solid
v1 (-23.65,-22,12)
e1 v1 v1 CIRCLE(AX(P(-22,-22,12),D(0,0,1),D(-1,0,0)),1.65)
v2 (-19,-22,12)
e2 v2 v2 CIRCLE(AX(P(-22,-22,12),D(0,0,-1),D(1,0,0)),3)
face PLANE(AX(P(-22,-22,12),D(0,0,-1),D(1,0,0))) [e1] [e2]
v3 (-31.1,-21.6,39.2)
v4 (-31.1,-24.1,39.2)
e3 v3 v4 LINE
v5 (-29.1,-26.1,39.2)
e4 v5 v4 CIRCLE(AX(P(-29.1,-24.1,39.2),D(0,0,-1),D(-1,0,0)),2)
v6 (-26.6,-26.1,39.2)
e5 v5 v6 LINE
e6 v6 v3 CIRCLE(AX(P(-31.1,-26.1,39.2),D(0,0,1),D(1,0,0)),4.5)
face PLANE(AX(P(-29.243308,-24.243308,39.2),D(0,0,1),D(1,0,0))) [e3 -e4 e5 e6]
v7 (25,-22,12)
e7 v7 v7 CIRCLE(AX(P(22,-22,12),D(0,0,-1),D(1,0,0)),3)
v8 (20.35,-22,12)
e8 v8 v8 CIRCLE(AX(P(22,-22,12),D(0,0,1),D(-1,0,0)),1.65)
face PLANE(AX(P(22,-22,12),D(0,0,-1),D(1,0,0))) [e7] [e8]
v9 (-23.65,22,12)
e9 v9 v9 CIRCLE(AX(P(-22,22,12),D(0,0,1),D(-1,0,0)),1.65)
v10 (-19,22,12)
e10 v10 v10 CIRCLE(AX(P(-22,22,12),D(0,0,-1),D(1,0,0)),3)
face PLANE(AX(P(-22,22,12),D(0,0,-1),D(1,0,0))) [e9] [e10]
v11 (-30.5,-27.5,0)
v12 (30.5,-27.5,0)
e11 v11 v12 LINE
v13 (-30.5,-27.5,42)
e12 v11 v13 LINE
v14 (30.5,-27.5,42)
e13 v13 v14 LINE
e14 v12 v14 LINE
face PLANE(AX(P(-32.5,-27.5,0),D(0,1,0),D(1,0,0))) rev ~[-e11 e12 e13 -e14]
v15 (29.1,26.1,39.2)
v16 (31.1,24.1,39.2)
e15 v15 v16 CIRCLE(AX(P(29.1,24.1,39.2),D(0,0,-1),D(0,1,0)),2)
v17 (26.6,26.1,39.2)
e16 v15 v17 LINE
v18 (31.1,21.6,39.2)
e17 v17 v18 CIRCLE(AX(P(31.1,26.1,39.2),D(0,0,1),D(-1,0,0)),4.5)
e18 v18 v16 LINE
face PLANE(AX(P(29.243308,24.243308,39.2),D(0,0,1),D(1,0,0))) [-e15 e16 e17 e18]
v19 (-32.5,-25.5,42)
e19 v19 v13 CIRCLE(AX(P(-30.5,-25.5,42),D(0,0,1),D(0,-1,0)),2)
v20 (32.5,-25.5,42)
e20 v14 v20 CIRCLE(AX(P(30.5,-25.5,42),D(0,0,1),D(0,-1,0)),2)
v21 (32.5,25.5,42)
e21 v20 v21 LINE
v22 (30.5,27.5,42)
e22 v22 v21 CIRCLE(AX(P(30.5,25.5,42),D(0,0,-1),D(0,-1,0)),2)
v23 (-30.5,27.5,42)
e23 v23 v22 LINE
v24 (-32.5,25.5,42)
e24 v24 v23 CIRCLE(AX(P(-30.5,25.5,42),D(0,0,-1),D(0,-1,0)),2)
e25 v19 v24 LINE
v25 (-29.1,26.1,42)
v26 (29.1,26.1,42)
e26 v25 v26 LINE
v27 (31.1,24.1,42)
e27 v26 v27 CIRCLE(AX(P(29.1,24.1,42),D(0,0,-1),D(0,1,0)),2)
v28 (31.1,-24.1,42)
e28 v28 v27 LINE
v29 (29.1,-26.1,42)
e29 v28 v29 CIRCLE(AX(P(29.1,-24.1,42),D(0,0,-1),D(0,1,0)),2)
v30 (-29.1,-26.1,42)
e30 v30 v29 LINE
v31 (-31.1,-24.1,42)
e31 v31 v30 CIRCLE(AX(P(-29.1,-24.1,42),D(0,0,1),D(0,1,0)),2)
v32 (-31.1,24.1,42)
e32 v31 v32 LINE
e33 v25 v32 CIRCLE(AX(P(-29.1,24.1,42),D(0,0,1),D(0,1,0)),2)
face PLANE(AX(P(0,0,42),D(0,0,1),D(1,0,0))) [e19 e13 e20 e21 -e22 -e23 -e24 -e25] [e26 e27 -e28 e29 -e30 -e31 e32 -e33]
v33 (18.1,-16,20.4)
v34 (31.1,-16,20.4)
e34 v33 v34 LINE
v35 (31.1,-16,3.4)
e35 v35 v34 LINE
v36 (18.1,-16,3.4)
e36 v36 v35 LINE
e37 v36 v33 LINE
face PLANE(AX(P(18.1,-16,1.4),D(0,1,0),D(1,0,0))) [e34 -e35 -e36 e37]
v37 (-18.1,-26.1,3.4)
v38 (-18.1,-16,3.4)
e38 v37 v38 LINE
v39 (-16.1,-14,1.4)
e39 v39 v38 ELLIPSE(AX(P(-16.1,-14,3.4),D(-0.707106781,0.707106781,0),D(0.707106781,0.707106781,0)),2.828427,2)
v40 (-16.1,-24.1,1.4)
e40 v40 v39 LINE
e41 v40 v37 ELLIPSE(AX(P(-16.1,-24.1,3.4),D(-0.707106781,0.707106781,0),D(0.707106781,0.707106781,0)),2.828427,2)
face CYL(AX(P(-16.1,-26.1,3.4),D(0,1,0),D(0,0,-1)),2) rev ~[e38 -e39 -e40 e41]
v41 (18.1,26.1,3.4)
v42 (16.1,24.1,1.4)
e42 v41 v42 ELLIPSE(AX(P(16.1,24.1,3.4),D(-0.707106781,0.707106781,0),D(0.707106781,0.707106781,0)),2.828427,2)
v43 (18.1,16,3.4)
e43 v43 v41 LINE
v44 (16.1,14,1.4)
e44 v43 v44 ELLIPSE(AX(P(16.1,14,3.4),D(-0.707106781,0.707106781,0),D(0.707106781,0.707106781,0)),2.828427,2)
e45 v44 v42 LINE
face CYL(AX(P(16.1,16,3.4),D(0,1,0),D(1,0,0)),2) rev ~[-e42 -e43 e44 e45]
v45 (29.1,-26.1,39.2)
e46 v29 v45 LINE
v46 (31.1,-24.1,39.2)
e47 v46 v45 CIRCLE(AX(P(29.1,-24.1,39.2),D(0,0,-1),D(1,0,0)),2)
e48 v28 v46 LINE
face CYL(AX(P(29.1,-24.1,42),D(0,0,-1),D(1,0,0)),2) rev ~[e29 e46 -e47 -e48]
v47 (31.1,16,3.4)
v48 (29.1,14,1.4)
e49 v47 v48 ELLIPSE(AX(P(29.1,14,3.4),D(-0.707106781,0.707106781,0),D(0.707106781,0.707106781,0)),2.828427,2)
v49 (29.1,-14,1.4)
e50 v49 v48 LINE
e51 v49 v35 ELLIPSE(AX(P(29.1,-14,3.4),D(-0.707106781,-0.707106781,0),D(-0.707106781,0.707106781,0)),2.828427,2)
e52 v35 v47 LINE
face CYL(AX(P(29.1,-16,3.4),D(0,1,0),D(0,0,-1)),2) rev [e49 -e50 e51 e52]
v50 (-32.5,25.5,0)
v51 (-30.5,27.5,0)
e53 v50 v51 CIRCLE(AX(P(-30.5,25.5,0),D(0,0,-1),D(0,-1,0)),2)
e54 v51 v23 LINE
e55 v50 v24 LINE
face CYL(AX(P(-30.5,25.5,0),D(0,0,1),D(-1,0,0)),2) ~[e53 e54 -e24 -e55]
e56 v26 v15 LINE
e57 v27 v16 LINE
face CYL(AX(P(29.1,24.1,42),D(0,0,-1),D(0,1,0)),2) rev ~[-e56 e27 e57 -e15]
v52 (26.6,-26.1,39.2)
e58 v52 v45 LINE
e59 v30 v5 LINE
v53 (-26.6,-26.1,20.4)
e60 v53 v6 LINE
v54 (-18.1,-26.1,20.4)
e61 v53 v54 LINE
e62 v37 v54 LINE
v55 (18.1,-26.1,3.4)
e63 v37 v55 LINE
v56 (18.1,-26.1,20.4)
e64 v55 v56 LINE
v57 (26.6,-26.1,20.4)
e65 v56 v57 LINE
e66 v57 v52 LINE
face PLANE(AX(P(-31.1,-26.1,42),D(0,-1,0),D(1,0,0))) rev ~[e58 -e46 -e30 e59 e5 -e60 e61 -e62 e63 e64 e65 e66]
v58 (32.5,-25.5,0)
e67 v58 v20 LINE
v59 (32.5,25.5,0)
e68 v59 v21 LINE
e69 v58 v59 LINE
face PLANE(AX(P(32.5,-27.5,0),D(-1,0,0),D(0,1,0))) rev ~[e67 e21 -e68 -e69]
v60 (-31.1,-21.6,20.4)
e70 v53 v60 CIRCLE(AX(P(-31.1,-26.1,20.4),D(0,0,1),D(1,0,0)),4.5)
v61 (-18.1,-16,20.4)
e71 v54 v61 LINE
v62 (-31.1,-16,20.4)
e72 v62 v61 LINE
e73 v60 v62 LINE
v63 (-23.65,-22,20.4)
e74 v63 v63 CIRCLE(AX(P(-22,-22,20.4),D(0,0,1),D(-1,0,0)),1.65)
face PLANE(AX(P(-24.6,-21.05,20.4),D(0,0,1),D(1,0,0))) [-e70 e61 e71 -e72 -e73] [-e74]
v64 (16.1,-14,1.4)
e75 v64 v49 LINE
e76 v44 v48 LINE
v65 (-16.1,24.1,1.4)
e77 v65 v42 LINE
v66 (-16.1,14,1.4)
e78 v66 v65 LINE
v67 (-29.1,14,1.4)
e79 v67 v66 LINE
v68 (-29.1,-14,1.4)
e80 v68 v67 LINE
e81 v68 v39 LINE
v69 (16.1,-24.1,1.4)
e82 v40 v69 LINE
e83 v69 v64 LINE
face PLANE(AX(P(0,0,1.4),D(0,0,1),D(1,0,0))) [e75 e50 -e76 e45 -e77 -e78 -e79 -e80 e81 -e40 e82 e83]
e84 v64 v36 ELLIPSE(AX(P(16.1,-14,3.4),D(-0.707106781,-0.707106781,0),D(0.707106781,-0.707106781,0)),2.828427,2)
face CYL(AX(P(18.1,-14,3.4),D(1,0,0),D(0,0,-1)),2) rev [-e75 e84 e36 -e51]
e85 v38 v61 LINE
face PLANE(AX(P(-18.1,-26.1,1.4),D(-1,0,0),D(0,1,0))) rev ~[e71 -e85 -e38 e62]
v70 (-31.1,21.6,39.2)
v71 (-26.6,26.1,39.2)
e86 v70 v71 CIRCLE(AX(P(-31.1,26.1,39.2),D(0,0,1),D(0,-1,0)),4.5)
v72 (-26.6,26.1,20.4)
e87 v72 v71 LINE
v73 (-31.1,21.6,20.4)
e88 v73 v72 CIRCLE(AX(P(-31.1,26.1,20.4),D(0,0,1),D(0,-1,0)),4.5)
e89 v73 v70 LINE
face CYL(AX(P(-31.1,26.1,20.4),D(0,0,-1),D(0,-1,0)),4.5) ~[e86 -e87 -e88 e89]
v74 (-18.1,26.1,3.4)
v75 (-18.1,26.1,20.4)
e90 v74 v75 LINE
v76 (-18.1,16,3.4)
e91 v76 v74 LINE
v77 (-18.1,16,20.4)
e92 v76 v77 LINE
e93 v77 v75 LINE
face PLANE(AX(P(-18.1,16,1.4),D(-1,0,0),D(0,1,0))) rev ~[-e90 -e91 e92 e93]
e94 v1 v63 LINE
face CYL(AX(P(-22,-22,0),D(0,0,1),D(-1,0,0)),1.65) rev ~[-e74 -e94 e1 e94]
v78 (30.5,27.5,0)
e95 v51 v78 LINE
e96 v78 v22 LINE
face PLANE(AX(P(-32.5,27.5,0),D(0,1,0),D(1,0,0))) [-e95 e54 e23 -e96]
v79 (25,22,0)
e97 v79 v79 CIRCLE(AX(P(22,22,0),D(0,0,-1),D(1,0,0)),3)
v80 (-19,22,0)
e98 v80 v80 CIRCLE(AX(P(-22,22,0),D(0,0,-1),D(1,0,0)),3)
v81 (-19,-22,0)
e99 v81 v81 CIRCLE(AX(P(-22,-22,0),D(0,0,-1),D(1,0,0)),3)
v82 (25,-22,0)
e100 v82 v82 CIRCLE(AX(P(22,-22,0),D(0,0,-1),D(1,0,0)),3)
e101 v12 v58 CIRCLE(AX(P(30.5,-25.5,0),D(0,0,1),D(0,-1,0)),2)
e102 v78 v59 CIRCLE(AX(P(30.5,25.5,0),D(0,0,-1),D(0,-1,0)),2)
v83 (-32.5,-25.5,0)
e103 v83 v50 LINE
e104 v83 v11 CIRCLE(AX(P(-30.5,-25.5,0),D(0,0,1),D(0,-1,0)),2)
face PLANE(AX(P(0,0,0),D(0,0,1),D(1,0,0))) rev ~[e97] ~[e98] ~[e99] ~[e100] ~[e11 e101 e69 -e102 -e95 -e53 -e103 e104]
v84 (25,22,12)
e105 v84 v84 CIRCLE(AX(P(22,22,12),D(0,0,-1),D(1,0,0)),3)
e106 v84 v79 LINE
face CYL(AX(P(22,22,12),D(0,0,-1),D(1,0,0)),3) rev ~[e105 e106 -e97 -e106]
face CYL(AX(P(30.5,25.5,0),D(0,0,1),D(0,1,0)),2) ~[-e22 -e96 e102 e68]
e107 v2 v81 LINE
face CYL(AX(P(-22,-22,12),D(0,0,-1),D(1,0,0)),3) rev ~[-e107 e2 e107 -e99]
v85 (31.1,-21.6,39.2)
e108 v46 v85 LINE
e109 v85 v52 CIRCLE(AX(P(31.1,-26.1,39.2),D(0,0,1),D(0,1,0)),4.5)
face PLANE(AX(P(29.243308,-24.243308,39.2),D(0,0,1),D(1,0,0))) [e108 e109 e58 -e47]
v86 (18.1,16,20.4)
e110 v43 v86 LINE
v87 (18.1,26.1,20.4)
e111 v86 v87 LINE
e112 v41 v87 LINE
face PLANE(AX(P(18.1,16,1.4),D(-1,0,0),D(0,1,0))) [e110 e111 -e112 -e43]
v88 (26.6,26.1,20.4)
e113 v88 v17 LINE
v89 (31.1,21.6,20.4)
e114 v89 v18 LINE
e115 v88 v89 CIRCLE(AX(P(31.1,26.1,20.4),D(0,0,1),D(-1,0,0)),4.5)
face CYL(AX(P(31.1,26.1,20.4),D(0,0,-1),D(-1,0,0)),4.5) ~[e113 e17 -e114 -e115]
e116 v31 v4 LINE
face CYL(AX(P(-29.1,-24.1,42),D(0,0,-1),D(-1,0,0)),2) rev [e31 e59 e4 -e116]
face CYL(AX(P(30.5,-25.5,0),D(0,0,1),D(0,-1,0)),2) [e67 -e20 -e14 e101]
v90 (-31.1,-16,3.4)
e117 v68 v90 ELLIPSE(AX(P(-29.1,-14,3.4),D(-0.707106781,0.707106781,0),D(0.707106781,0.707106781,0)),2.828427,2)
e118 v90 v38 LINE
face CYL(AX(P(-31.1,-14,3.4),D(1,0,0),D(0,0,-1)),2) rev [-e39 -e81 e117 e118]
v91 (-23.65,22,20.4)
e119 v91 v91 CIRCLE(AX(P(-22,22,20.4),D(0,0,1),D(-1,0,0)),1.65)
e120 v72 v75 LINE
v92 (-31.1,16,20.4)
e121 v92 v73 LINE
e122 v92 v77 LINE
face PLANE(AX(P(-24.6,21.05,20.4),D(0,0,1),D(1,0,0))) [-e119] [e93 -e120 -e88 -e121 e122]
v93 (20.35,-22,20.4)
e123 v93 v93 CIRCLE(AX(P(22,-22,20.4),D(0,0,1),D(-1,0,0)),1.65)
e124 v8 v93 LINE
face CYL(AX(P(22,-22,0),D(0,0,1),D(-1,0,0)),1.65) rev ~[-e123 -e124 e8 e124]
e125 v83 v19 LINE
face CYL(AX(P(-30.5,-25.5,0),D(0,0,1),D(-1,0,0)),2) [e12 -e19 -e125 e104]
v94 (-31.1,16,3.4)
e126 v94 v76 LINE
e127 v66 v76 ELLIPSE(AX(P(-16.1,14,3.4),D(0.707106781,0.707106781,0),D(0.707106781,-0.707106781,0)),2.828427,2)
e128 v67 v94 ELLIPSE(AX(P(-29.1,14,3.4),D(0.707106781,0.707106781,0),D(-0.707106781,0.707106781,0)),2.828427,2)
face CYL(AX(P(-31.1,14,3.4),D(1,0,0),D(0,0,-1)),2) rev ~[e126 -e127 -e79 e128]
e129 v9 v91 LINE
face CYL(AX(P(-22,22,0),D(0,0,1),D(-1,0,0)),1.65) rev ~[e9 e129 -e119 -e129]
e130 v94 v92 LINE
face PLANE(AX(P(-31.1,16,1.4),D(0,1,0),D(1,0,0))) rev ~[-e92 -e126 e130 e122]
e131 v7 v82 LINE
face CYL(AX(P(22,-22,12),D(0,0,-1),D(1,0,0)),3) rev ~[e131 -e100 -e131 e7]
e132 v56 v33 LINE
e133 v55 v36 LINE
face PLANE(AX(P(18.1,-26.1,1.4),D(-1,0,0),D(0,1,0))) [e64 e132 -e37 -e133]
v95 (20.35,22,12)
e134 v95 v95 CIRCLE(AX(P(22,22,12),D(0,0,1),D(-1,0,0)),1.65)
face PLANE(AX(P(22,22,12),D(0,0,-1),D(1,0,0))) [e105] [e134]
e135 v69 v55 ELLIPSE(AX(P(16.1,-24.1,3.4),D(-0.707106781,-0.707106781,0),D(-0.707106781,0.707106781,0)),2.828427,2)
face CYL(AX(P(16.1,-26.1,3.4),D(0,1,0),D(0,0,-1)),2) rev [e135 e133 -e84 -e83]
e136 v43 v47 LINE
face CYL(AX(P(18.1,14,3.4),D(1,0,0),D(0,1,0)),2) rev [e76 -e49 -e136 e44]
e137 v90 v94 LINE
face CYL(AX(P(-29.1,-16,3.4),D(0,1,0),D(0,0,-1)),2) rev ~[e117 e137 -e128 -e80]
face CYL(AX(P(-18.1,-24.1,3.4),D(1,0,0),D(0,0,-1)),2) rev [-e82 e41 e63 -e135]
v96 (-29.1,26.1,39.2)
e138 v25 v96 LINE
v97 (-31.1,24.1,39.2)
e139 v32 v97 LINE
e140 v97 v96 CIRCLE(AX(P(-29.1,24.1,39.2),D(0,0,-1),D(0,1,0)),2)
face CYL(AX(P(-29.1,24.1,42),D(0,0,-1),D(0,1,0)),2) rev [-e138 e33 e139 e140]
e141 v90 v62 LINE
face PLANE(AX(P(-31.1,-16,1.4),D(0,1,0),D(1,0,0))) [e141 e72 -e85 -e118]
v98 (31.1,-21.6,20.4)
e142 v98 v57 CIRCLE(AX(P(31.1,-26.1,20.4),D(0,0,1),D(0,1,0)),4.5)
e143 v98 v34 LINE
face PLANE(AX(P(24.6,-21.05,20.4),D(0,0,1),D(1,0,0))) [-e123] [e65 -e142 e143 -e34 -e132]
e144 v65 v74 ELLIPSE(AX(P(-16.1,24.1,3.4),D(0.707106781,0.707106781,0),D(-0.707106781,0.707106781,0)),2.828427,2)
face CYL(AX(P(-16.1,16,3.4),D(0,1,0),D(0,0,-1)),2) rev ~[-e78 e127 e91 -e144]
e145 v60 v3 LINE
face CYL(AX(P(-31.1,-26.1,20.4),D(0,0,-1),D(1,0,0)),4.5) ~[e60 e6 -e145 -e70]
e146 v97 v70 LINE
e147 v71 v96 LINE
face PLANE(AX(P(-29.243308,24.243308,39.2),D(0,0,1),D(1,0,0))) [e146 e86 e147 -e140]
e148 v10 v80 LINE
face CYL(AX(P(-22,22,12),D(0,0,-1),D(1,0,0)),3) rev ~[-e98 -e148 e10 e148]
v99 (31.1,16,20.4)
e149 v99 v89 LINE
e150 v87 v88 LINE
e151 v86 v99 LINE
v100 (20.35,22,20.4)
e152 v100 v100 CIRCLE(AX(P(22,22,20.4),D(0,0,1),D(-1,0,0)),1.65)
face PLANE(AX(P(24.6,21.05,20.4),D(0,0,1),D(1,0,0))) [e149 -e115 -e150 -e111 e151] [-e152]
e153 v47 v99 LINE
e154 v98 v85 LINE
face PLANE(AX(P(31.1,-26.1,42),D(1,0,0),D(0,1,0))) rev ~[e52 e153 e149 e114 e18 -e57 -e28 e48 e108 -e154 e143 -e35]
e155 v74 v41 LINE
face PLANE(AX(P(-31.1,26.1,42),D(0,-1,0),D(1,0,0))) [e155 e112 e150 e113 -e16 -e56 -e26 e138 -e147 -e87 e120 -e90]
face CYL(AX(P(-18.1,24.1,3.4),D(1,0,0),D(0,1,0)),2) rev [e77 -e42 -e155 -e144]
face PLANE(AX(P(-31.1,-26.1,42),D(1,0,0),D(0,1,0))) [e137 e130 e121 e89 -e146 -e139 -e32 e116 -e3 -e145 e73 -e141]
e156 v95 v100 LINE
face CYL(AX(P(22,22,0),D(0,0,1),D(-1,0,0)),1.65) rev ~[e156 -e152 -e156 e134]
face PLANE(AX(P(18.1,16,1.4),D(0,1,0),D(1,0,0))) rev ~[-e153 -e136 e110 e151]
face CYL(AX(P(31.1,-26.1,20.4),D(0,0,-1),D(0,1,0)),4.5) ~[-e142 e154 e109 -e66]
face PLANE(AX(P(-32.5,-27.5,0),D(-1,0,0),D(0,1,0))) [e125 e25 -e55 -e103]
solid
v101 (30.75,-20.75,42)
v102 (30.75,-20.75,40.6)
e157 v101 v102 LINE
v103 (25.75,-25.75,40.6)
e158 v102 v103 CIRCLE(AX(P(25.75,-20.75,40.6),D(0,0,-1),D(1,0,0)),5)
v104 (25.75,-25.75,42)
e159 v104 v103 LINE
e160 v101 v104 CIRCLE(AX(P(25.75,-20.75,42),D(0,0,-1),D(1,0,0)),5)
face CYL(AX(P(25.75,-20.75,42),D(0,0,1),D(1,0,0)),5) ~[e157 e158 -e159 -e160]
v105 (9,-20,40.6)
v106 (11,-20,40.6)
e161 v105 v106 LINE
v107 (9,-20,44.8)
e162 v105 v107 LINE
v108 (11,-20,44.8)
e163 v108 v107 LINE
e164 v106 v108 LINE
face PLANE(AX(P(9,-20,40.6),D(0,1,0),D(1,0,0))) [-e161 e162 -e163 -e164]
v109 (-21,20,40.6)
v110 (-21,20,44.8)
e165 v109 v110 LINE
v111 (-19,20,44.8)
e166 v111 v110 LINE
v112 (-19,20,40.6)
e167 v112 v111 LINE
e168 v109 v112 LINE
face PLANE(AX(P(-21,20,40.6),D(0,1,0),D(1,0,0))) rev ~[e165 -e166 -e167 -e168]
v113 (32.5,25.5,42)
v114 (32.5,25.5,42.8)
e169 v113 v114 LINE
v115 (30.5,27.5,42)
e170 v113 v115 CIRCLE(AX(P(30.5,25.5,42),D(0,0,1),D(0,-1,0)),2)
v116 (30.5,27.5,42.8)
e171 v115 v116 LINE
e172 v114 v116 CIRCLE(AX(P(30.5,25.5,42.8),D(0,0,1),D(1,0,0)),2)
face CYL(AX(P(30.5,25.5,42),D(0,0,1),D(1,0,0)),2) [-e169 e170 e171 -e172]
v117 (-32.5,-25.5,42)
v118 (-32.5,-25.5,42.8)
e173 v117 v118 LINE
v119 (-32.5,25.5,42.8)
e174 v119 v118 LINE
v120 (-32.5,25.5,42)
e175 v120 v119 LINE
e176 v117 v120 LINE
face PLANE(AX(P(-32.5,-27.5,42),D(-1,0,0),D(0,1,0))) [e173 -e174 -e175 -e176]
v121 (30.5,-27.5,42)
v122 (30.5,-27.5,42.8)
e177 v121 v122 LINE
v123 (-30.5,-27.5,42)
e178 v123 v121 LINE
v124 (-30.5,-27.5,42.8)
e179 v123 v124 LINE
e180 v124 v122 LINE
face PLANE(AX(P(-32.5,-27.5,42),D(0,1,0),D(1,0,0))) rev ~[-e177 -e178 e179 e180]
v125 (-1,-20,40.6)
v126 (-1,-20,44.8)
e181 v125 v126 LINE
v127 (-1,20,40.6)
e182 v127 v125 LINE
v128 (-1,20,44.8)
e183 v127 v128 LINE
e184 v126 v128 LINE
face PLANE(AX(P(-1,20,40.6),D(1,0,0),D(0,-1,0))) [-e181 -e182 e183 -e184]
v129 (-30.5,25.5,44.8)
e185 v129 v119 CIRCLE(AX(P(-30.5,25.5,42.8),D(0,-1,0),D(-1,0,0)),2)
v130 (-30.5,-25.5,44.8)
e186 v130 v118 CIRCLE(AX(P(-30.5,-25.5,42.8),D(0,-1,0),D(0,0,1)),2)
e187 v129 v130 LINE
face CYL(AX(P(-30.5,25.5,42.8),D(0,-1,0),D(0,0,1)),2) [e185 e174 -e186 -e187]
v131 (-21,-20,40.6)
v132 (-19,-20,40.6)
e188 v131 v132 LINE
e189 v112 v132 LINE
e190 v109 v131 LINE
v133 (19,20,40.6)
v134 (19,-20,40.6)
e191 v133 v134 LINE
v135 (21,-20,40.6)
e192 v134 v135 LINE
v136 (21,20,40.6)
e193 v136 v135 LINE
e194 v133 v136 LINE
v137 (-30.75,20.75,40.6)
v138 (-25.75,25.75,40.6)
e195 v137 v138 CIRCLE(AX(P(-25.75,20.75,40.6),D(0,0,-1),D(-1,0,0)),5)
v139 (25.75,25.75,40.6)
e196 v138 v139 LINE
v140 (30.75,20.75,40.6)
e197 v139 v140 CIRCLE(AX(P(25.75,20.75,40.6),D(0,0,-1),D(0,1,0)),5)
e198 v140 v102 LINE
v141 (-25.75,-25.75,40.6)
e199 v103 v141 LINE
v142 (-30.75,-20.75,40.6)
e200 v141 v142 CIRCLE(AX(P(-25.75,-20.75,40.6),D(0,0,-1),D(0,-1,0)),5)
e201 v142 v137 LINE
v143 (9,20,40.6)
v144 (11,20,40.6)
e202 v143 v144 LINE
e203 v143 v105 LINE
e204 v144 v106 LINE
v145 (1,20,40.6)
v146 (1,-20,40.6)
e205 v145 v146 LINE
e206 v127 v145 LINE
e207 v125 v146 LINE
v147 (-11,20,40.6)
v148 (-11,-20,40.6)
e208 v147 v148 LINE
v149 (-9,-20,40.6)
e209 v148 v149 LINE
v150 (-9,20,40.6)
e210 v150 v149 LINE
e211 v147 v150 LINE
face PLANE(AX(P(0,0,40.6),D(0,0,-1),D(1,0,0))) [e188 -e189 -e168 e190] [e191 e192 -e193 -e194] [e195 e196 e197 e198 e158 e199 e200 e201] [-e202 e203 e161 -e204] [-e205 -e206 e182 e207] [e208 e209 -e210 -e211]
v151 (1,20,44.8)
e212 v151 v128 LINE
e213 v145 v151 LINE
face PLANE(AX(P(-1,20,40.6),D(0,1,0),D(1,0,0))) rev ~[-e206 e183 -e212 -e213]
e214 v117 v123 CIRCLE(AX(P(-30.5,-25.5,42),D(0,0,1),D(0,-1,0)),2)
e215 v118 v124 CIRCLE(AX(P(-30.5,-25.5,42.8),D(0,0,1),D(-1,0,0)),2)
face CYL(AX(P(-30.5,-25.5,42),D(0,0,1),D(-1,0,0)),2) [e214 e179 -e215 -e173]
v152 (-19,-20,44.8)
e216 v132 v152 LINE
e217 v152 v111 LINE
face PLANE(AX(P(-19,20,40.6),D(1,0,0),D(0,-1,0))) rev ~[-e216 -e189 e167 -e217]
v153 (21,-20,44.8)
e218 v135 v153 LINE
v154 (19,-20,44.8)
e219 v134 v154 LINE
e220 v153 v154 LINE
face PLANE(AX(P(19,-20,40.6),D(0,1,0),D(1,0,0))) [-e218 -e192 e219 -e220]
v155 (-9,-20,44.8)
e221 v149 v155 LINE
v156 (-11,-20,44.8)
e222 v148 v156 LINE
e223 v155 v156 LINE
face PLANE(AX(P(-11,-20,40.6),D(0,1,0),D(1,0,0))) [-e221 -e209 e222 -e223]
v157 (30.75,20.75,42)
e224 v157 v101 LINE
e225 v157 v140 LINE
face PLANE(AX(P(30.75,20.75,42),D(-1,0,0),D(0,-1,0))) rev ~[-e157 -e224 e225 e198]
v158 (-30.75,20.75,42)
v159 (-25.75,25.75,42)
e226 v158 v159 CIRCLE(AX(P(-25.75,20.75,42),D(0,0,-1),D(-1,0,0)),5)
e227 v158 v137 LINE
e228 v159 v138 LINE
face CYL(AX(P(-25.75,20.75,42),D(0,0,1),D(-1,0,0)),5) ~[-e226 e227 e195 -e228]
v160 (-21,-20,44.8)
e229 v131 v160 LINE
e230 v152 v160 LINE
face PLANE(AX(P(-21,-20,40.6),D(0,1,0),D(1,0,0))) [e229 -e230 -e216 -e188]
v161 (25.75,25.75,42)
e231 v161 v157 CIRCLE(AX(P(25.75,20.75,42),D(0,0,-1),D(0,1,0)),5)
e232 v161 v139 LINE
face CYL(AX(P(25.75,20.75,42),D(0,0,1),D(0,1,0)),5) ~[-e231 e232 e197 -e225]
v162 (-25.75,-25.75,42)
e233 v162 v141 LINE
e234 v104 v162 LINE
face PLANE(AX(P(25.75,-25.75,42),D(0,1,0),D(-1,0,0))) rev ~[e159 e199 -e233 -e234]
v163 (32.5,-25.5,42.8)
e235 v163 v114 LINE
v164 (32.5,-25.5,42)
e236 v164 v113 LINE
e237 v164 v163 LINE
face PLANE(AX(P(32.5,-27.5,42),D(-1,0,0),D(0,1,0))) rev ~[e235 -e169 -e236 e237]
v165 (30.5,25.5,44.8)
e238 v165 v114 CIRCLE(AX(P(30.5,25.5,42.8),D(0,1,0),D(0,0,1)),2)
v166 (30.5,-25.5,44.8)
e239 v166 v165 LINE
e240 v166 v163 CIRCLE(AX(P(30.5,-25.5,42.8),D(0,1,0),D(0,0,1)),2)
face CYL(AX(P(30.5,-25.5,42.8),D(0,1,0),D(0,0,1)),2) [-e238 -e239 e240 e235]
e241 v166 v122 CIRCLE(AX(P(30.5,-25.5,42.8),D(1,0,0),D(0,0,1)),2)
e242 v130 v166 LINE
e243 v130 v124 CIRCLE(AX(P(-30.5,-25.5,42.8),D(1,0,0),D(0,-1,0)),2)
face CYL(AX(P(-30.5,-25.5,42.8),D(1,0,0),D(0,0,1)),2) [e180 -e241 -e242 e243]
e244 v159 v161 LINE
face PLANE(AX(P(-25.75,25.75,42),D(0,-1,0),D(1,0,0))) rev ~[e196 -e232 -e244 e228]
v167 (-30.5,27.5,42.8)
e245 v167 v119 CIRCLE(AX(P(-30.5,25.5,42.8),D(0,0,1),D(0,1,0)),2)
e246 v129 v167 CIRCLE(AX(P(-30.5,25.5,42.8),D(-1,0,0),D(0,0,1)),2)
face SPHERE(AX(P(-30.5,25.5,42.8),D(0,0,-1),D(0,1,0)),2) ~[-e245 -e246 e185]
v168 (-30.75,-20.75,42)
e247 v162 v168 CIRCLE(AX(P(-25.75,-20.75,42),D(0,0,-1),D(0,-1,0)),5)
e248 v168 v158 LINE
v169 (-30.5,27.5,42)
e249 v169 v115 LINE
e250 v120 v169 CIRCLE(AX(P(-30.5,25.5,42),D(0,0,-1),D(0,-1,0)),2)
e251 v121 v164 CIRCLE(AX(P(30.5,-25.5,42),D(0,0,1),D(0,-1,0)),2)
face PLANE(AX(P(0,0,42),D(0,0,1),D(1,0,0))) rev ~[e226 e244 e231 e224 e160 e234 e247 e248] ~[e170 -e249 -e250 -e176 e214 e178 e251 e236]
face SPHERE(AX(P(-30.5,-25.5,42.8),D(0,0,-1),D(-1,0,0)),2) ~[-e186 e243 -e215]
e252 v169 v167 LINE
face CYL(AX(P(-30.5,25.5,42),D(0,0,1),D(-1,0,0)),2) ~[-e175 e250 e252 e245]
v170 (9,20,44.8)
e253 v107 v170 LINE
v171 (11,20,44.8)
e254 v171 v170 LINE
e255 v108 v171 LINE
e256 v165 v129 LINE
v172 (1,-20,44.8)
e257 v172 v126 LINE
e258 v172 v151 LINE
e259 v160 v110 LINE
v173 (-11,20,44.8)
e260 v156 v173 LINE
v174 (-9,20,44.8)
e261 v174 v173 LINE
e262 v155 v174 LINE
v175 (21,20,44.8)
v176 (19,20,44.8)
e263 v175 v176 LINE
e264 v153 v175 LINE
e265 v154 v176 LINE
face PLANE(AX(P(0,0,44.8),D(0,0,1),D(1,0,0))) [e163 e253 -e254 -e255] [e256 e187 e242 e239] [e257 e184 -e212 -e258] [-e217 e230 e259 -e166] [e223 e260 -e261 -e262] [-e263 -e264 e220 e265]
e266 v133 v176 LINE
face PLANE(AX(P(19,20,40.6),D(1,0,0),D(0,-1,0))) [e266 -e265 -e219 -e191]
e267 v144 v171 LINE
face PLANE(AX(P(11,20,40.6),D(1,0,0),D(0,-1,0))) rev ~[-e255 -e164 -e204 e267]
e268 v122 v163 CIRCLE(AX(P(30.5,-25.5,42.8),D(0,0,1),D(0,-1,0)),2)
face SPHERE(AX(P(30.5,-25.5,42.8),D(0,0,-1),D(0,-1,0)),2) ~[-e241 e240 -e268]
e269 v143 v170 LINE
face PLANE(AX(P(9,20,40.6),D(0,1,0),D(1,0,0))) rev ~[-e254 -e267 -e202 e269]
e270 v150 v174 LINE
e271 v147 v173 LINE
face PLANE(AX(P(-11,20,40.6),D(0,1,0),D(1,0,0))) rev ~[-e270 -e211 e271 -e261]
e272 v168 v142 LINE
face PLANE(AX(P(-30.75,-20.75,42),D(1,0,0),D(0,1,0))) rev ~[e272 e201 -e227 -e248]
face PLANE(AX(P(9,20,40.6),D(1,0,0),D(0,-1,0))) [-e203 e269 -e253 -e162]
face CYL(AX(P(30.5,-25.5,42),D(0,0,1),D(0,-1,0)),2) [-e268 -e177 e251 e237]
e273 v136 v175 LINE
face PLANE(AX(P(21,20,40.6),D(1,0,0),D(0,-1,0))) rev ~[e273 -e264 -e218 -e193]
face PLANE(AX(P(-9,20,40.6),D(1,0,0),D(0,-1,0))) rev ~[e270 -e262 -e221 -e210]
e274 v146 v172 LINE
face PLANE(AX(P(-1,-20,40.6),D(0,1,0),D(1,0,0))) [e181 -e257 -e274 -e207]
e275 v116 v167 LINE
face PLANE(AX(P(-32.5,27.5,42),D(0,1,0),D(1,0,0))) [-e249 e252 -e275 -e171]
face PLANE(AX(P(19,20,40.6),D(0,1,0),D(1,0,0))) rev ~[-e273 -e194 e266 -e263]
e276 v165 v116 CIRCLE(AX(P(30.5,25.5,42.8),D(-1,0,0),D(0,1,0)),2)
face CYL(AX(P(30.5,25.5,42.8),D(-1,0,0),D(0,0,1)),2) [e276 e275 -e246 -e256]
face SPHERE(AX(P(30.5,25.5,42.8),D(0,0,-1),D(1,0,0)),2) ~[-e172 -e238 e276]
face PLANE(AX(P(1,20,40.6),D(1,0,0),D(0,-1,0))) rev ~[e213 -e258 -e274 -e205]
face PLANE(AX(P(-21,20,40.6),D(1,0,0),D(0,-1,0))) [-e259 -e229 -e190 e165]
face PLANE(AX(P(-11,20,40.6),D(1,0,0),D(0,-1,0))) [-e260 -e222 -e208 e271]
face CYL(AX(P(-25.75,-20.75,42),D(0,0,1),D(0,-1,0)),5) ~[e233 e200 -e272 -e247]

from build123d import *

# Parameters (mm, degrees)
F3_W            = 65
F3_H            = 55
F4_DEPTH        = 42
F5_W            = 62.2
F5_H            = 52.2
F6_DEPTH        = 40.6
F7_W            = 13
F7_H            = 10.1
F8_DEPTH        = 19
F10_D           = 3.3
F10_CBORE_D     = 6
F10_CBORE_DEPTH = 12
F11_R           = 2
F12_R           = 2
F14_R           = 2
F13_W           = 65
F13_H           = 55
F15_DEPTH       = 2.8
F16_R           = 2
F18_DEPTH       = 1.4
F19_W           = 2
F19_H           = 40
F20_DEPTH       = 4.201
F21_R           = 2
F23_DEPTH       = 18.8


with BuildPart() as f4:
    # F3 (on Top) → F4 (new body)
    with BuildSketch(Plane.XY):
        Rectangle(F3_W, F3_H)
    extrude(amount=F4_DEPTH)

    # F5 (on face) → F6 (cut)
    with BuildSketch(Plane.XY.offset(42)):
        Rectangle(F5_W, F5_H)
    extrude(amount=-F6_DEPTH, mode=Mode.SUBTRACT)

    # F7 (on face) → F8 (join)
    with BuildSketch(Plane.XY.offset(1.4)):
        with Locations((24.6, 21.05)):
            Rectangle(F7_W, F7_H)
        with Locations((24.6, -21.05)):
            Rectangle(F7_W, F7_H)
        with Locations((-24.6, -21.05)):
            Rectangle(F7_W, F7_H)
        with Locations((-24.6, 21.05)):
            Rectangle(F7_W, F7_H)
    extrude(amount=F8_DEPTH)

    # F10 (through all)
    with Locations(Plane(origin=(0, 0, 0), x_dir=(1, 0, 0), z_dir=(0, 0, -1))):
        with Locations((22, -22), (-22, -22), (-22, 22), (22, 22)):
            CounterBoreHole(F10_D / 2, F10_CBORE_D / 2, F10_CBORE_DEPTH)

    # F11
    f11_edges = [f4.edges().sort_by_distance(p)[0] for p in [
        (-18.1, -21.05, 1.4),
        (-24.6, -16, 1.4),
        (-31.1, 0, 1.4),
        (-24.6, 16, 1.4),
        (-18.1, 21.05, 1.4),
        (0, 26.1, 1.4),
        (18.1, 21.05, 1.4),
        (24.6, 16, 1.4),
        (31.1, 0, 1.4),
        (24.6, -16, 1.4),
        (18.1, -21.05, 1.4),
        (0, -26.1, 1.4),
    ]]
    fillet(f11_edges, radius=F11_R)

    # F12
    f12_edges = [f4.edges().sort_by_distance(p)[0] for p in [
        (31.1, 26.1, 31.2),
        (-31.1, 26.1, 31.2),
        (-31.1, -26.1, 31.2),
        (31.1, -26.1, 31.2),
    ]]
    fillet(f12_edges, radius=F12_R)

    # F14
    f14_edges = [f4.edges().sort_by_distance(p)[0] for p in [
        (-32.5, -27.5, 21),
        (32.5, -27.5, 21),
        (32.5, 27.5, 21),
        (-32.5, 27.5, 21),
    ]]
    fillet(f14_edges, radius=F14_R)

    # F22 (on face) → F23 (join)
    with BuildSketch(Plane.XY.offset(20.4)):
        with BuildLine():
            Line((26.6, -26.1), (31.1, -26.1))
            Line((31.1, -26.1), (31.1, -21.6))
            ThreePointArc((31.1, -21.6), (27.9180194847, -22.9180194847), (26.6, -26.1))
        make_face()
        with BuildLine():
            Line((-31.1, 26.1), (-31.1, 21.6))
            ThreePointArc((-31.1, 21.6), (-27.9180194847, 22.9180194847), (-26.6, 26.1))
            Line((-26.6, 26.1), (-31.1, 26.1))
        make_face()
        with BuildLine():
            ThreePointArc((-26.6, -26.1), (-27.9180194847, -22.9180194847), (-31.1, -21.6))
            Line((-31.1, -21.6), (-31.1, -26.1))
            Line((-31.1, -26.1), (-26.6, -26.1))
        make_face()
        with BuildLine():
            ThreePointArc((26.6, 26.1), (27.9180194847, 22.9180194847), (31.1, 21.6))
            Line((31.1, 21.6), (31.1, 26.1))
            Line((31.1, 26.1), (26.6, 26.1))
        make_face()
    extrude(amount=F23_DEPTH)


with BuildPart() as f15:
    # F13 (on face) → F15 (new body)
    with BuildSketch(Plane.XY.offset(42)):
        Rectangle(F13_W, F13_H)
    extrude(amount=F15_DEPTH)

    # F16
    f16_edges = [f15.edges().sort_by_distance(p)[0] for p in [
        (-32.5, -27.5, 43.4),
        (32.5, -27.5, 43.4),
        (-32.5, 27.5, 43.4),
        (32.5, 27.5, 43.4),
    ]]
    fillet(f16_edges, radius=F16_R)

    # F17 (on face) → F18 (join)
    with BuildSketch(Plane(origin=(0, 0, 42), x_dir=(1, 0, 0), z_dir=(0, 0, -1))):
        with BuildLine():
            ThreePointArc((25.75, -25.75), (29.2855339059, -24.2855339059), (30.75, -20.75))
            Line((30.75, -20.75), (30.75, 20.75))
            ThreePointArc((30.75, 20.75), (29.2855339059, 24.2855339059), (25.75, 25.75))
            Line((25.75, 25.75), (-25.75, 25.75))
            ThreePointArc((-25.75, 25.75), (-29.2855339059, 24.2855339059), (-30.75, 20.75))
            Line((-30.75, 20.75), (-30.75, -20.75))
            ThreePointArc((-30.75, -20.75), (-29.2855339059, -24.2855339059), (-25.75, -25.75))
            Line((-25.75, -25.75), (25.75, -25.75))
        make_face()
    extrude(amount=F18_DEPTH)

    # F19 (on face) → F20 (cut, through all)
    with BuildSketch(Plane(origin=(0, 0, 40.6), x_dir=(1, 0, 0), z_dir=(0, 0, -1))):
        Rectangle(F19_W, F19_H)
        with Locations((-10, 0)):
            Rectangle(F19_W, F19_H)
        with Locations((-20, 0)):
            Rectangle(F19_W, F19_H)
        with Locations((10, 0)):
            Rectangle(F19_W, F19_H)
        with Locations((20, 0)):
            Rectangle(F19_W, F19_H)
    extrude(amount=-F20_DEPTH, mode=Mode.SUBTRACT)

    # F21
    f21_edges = [f15.edges().sort_by_distance(p)[0] for p in [
        (32.5, 0, 44.8),
        (0, 27.5, 44.8),
        (-32.5, 0, 44.8),
        (0, -27.5, 44.8),
    ]]
    fillet(f21_edges, radius=F21_R)


solid = Compound([f4.part, f15.part])
